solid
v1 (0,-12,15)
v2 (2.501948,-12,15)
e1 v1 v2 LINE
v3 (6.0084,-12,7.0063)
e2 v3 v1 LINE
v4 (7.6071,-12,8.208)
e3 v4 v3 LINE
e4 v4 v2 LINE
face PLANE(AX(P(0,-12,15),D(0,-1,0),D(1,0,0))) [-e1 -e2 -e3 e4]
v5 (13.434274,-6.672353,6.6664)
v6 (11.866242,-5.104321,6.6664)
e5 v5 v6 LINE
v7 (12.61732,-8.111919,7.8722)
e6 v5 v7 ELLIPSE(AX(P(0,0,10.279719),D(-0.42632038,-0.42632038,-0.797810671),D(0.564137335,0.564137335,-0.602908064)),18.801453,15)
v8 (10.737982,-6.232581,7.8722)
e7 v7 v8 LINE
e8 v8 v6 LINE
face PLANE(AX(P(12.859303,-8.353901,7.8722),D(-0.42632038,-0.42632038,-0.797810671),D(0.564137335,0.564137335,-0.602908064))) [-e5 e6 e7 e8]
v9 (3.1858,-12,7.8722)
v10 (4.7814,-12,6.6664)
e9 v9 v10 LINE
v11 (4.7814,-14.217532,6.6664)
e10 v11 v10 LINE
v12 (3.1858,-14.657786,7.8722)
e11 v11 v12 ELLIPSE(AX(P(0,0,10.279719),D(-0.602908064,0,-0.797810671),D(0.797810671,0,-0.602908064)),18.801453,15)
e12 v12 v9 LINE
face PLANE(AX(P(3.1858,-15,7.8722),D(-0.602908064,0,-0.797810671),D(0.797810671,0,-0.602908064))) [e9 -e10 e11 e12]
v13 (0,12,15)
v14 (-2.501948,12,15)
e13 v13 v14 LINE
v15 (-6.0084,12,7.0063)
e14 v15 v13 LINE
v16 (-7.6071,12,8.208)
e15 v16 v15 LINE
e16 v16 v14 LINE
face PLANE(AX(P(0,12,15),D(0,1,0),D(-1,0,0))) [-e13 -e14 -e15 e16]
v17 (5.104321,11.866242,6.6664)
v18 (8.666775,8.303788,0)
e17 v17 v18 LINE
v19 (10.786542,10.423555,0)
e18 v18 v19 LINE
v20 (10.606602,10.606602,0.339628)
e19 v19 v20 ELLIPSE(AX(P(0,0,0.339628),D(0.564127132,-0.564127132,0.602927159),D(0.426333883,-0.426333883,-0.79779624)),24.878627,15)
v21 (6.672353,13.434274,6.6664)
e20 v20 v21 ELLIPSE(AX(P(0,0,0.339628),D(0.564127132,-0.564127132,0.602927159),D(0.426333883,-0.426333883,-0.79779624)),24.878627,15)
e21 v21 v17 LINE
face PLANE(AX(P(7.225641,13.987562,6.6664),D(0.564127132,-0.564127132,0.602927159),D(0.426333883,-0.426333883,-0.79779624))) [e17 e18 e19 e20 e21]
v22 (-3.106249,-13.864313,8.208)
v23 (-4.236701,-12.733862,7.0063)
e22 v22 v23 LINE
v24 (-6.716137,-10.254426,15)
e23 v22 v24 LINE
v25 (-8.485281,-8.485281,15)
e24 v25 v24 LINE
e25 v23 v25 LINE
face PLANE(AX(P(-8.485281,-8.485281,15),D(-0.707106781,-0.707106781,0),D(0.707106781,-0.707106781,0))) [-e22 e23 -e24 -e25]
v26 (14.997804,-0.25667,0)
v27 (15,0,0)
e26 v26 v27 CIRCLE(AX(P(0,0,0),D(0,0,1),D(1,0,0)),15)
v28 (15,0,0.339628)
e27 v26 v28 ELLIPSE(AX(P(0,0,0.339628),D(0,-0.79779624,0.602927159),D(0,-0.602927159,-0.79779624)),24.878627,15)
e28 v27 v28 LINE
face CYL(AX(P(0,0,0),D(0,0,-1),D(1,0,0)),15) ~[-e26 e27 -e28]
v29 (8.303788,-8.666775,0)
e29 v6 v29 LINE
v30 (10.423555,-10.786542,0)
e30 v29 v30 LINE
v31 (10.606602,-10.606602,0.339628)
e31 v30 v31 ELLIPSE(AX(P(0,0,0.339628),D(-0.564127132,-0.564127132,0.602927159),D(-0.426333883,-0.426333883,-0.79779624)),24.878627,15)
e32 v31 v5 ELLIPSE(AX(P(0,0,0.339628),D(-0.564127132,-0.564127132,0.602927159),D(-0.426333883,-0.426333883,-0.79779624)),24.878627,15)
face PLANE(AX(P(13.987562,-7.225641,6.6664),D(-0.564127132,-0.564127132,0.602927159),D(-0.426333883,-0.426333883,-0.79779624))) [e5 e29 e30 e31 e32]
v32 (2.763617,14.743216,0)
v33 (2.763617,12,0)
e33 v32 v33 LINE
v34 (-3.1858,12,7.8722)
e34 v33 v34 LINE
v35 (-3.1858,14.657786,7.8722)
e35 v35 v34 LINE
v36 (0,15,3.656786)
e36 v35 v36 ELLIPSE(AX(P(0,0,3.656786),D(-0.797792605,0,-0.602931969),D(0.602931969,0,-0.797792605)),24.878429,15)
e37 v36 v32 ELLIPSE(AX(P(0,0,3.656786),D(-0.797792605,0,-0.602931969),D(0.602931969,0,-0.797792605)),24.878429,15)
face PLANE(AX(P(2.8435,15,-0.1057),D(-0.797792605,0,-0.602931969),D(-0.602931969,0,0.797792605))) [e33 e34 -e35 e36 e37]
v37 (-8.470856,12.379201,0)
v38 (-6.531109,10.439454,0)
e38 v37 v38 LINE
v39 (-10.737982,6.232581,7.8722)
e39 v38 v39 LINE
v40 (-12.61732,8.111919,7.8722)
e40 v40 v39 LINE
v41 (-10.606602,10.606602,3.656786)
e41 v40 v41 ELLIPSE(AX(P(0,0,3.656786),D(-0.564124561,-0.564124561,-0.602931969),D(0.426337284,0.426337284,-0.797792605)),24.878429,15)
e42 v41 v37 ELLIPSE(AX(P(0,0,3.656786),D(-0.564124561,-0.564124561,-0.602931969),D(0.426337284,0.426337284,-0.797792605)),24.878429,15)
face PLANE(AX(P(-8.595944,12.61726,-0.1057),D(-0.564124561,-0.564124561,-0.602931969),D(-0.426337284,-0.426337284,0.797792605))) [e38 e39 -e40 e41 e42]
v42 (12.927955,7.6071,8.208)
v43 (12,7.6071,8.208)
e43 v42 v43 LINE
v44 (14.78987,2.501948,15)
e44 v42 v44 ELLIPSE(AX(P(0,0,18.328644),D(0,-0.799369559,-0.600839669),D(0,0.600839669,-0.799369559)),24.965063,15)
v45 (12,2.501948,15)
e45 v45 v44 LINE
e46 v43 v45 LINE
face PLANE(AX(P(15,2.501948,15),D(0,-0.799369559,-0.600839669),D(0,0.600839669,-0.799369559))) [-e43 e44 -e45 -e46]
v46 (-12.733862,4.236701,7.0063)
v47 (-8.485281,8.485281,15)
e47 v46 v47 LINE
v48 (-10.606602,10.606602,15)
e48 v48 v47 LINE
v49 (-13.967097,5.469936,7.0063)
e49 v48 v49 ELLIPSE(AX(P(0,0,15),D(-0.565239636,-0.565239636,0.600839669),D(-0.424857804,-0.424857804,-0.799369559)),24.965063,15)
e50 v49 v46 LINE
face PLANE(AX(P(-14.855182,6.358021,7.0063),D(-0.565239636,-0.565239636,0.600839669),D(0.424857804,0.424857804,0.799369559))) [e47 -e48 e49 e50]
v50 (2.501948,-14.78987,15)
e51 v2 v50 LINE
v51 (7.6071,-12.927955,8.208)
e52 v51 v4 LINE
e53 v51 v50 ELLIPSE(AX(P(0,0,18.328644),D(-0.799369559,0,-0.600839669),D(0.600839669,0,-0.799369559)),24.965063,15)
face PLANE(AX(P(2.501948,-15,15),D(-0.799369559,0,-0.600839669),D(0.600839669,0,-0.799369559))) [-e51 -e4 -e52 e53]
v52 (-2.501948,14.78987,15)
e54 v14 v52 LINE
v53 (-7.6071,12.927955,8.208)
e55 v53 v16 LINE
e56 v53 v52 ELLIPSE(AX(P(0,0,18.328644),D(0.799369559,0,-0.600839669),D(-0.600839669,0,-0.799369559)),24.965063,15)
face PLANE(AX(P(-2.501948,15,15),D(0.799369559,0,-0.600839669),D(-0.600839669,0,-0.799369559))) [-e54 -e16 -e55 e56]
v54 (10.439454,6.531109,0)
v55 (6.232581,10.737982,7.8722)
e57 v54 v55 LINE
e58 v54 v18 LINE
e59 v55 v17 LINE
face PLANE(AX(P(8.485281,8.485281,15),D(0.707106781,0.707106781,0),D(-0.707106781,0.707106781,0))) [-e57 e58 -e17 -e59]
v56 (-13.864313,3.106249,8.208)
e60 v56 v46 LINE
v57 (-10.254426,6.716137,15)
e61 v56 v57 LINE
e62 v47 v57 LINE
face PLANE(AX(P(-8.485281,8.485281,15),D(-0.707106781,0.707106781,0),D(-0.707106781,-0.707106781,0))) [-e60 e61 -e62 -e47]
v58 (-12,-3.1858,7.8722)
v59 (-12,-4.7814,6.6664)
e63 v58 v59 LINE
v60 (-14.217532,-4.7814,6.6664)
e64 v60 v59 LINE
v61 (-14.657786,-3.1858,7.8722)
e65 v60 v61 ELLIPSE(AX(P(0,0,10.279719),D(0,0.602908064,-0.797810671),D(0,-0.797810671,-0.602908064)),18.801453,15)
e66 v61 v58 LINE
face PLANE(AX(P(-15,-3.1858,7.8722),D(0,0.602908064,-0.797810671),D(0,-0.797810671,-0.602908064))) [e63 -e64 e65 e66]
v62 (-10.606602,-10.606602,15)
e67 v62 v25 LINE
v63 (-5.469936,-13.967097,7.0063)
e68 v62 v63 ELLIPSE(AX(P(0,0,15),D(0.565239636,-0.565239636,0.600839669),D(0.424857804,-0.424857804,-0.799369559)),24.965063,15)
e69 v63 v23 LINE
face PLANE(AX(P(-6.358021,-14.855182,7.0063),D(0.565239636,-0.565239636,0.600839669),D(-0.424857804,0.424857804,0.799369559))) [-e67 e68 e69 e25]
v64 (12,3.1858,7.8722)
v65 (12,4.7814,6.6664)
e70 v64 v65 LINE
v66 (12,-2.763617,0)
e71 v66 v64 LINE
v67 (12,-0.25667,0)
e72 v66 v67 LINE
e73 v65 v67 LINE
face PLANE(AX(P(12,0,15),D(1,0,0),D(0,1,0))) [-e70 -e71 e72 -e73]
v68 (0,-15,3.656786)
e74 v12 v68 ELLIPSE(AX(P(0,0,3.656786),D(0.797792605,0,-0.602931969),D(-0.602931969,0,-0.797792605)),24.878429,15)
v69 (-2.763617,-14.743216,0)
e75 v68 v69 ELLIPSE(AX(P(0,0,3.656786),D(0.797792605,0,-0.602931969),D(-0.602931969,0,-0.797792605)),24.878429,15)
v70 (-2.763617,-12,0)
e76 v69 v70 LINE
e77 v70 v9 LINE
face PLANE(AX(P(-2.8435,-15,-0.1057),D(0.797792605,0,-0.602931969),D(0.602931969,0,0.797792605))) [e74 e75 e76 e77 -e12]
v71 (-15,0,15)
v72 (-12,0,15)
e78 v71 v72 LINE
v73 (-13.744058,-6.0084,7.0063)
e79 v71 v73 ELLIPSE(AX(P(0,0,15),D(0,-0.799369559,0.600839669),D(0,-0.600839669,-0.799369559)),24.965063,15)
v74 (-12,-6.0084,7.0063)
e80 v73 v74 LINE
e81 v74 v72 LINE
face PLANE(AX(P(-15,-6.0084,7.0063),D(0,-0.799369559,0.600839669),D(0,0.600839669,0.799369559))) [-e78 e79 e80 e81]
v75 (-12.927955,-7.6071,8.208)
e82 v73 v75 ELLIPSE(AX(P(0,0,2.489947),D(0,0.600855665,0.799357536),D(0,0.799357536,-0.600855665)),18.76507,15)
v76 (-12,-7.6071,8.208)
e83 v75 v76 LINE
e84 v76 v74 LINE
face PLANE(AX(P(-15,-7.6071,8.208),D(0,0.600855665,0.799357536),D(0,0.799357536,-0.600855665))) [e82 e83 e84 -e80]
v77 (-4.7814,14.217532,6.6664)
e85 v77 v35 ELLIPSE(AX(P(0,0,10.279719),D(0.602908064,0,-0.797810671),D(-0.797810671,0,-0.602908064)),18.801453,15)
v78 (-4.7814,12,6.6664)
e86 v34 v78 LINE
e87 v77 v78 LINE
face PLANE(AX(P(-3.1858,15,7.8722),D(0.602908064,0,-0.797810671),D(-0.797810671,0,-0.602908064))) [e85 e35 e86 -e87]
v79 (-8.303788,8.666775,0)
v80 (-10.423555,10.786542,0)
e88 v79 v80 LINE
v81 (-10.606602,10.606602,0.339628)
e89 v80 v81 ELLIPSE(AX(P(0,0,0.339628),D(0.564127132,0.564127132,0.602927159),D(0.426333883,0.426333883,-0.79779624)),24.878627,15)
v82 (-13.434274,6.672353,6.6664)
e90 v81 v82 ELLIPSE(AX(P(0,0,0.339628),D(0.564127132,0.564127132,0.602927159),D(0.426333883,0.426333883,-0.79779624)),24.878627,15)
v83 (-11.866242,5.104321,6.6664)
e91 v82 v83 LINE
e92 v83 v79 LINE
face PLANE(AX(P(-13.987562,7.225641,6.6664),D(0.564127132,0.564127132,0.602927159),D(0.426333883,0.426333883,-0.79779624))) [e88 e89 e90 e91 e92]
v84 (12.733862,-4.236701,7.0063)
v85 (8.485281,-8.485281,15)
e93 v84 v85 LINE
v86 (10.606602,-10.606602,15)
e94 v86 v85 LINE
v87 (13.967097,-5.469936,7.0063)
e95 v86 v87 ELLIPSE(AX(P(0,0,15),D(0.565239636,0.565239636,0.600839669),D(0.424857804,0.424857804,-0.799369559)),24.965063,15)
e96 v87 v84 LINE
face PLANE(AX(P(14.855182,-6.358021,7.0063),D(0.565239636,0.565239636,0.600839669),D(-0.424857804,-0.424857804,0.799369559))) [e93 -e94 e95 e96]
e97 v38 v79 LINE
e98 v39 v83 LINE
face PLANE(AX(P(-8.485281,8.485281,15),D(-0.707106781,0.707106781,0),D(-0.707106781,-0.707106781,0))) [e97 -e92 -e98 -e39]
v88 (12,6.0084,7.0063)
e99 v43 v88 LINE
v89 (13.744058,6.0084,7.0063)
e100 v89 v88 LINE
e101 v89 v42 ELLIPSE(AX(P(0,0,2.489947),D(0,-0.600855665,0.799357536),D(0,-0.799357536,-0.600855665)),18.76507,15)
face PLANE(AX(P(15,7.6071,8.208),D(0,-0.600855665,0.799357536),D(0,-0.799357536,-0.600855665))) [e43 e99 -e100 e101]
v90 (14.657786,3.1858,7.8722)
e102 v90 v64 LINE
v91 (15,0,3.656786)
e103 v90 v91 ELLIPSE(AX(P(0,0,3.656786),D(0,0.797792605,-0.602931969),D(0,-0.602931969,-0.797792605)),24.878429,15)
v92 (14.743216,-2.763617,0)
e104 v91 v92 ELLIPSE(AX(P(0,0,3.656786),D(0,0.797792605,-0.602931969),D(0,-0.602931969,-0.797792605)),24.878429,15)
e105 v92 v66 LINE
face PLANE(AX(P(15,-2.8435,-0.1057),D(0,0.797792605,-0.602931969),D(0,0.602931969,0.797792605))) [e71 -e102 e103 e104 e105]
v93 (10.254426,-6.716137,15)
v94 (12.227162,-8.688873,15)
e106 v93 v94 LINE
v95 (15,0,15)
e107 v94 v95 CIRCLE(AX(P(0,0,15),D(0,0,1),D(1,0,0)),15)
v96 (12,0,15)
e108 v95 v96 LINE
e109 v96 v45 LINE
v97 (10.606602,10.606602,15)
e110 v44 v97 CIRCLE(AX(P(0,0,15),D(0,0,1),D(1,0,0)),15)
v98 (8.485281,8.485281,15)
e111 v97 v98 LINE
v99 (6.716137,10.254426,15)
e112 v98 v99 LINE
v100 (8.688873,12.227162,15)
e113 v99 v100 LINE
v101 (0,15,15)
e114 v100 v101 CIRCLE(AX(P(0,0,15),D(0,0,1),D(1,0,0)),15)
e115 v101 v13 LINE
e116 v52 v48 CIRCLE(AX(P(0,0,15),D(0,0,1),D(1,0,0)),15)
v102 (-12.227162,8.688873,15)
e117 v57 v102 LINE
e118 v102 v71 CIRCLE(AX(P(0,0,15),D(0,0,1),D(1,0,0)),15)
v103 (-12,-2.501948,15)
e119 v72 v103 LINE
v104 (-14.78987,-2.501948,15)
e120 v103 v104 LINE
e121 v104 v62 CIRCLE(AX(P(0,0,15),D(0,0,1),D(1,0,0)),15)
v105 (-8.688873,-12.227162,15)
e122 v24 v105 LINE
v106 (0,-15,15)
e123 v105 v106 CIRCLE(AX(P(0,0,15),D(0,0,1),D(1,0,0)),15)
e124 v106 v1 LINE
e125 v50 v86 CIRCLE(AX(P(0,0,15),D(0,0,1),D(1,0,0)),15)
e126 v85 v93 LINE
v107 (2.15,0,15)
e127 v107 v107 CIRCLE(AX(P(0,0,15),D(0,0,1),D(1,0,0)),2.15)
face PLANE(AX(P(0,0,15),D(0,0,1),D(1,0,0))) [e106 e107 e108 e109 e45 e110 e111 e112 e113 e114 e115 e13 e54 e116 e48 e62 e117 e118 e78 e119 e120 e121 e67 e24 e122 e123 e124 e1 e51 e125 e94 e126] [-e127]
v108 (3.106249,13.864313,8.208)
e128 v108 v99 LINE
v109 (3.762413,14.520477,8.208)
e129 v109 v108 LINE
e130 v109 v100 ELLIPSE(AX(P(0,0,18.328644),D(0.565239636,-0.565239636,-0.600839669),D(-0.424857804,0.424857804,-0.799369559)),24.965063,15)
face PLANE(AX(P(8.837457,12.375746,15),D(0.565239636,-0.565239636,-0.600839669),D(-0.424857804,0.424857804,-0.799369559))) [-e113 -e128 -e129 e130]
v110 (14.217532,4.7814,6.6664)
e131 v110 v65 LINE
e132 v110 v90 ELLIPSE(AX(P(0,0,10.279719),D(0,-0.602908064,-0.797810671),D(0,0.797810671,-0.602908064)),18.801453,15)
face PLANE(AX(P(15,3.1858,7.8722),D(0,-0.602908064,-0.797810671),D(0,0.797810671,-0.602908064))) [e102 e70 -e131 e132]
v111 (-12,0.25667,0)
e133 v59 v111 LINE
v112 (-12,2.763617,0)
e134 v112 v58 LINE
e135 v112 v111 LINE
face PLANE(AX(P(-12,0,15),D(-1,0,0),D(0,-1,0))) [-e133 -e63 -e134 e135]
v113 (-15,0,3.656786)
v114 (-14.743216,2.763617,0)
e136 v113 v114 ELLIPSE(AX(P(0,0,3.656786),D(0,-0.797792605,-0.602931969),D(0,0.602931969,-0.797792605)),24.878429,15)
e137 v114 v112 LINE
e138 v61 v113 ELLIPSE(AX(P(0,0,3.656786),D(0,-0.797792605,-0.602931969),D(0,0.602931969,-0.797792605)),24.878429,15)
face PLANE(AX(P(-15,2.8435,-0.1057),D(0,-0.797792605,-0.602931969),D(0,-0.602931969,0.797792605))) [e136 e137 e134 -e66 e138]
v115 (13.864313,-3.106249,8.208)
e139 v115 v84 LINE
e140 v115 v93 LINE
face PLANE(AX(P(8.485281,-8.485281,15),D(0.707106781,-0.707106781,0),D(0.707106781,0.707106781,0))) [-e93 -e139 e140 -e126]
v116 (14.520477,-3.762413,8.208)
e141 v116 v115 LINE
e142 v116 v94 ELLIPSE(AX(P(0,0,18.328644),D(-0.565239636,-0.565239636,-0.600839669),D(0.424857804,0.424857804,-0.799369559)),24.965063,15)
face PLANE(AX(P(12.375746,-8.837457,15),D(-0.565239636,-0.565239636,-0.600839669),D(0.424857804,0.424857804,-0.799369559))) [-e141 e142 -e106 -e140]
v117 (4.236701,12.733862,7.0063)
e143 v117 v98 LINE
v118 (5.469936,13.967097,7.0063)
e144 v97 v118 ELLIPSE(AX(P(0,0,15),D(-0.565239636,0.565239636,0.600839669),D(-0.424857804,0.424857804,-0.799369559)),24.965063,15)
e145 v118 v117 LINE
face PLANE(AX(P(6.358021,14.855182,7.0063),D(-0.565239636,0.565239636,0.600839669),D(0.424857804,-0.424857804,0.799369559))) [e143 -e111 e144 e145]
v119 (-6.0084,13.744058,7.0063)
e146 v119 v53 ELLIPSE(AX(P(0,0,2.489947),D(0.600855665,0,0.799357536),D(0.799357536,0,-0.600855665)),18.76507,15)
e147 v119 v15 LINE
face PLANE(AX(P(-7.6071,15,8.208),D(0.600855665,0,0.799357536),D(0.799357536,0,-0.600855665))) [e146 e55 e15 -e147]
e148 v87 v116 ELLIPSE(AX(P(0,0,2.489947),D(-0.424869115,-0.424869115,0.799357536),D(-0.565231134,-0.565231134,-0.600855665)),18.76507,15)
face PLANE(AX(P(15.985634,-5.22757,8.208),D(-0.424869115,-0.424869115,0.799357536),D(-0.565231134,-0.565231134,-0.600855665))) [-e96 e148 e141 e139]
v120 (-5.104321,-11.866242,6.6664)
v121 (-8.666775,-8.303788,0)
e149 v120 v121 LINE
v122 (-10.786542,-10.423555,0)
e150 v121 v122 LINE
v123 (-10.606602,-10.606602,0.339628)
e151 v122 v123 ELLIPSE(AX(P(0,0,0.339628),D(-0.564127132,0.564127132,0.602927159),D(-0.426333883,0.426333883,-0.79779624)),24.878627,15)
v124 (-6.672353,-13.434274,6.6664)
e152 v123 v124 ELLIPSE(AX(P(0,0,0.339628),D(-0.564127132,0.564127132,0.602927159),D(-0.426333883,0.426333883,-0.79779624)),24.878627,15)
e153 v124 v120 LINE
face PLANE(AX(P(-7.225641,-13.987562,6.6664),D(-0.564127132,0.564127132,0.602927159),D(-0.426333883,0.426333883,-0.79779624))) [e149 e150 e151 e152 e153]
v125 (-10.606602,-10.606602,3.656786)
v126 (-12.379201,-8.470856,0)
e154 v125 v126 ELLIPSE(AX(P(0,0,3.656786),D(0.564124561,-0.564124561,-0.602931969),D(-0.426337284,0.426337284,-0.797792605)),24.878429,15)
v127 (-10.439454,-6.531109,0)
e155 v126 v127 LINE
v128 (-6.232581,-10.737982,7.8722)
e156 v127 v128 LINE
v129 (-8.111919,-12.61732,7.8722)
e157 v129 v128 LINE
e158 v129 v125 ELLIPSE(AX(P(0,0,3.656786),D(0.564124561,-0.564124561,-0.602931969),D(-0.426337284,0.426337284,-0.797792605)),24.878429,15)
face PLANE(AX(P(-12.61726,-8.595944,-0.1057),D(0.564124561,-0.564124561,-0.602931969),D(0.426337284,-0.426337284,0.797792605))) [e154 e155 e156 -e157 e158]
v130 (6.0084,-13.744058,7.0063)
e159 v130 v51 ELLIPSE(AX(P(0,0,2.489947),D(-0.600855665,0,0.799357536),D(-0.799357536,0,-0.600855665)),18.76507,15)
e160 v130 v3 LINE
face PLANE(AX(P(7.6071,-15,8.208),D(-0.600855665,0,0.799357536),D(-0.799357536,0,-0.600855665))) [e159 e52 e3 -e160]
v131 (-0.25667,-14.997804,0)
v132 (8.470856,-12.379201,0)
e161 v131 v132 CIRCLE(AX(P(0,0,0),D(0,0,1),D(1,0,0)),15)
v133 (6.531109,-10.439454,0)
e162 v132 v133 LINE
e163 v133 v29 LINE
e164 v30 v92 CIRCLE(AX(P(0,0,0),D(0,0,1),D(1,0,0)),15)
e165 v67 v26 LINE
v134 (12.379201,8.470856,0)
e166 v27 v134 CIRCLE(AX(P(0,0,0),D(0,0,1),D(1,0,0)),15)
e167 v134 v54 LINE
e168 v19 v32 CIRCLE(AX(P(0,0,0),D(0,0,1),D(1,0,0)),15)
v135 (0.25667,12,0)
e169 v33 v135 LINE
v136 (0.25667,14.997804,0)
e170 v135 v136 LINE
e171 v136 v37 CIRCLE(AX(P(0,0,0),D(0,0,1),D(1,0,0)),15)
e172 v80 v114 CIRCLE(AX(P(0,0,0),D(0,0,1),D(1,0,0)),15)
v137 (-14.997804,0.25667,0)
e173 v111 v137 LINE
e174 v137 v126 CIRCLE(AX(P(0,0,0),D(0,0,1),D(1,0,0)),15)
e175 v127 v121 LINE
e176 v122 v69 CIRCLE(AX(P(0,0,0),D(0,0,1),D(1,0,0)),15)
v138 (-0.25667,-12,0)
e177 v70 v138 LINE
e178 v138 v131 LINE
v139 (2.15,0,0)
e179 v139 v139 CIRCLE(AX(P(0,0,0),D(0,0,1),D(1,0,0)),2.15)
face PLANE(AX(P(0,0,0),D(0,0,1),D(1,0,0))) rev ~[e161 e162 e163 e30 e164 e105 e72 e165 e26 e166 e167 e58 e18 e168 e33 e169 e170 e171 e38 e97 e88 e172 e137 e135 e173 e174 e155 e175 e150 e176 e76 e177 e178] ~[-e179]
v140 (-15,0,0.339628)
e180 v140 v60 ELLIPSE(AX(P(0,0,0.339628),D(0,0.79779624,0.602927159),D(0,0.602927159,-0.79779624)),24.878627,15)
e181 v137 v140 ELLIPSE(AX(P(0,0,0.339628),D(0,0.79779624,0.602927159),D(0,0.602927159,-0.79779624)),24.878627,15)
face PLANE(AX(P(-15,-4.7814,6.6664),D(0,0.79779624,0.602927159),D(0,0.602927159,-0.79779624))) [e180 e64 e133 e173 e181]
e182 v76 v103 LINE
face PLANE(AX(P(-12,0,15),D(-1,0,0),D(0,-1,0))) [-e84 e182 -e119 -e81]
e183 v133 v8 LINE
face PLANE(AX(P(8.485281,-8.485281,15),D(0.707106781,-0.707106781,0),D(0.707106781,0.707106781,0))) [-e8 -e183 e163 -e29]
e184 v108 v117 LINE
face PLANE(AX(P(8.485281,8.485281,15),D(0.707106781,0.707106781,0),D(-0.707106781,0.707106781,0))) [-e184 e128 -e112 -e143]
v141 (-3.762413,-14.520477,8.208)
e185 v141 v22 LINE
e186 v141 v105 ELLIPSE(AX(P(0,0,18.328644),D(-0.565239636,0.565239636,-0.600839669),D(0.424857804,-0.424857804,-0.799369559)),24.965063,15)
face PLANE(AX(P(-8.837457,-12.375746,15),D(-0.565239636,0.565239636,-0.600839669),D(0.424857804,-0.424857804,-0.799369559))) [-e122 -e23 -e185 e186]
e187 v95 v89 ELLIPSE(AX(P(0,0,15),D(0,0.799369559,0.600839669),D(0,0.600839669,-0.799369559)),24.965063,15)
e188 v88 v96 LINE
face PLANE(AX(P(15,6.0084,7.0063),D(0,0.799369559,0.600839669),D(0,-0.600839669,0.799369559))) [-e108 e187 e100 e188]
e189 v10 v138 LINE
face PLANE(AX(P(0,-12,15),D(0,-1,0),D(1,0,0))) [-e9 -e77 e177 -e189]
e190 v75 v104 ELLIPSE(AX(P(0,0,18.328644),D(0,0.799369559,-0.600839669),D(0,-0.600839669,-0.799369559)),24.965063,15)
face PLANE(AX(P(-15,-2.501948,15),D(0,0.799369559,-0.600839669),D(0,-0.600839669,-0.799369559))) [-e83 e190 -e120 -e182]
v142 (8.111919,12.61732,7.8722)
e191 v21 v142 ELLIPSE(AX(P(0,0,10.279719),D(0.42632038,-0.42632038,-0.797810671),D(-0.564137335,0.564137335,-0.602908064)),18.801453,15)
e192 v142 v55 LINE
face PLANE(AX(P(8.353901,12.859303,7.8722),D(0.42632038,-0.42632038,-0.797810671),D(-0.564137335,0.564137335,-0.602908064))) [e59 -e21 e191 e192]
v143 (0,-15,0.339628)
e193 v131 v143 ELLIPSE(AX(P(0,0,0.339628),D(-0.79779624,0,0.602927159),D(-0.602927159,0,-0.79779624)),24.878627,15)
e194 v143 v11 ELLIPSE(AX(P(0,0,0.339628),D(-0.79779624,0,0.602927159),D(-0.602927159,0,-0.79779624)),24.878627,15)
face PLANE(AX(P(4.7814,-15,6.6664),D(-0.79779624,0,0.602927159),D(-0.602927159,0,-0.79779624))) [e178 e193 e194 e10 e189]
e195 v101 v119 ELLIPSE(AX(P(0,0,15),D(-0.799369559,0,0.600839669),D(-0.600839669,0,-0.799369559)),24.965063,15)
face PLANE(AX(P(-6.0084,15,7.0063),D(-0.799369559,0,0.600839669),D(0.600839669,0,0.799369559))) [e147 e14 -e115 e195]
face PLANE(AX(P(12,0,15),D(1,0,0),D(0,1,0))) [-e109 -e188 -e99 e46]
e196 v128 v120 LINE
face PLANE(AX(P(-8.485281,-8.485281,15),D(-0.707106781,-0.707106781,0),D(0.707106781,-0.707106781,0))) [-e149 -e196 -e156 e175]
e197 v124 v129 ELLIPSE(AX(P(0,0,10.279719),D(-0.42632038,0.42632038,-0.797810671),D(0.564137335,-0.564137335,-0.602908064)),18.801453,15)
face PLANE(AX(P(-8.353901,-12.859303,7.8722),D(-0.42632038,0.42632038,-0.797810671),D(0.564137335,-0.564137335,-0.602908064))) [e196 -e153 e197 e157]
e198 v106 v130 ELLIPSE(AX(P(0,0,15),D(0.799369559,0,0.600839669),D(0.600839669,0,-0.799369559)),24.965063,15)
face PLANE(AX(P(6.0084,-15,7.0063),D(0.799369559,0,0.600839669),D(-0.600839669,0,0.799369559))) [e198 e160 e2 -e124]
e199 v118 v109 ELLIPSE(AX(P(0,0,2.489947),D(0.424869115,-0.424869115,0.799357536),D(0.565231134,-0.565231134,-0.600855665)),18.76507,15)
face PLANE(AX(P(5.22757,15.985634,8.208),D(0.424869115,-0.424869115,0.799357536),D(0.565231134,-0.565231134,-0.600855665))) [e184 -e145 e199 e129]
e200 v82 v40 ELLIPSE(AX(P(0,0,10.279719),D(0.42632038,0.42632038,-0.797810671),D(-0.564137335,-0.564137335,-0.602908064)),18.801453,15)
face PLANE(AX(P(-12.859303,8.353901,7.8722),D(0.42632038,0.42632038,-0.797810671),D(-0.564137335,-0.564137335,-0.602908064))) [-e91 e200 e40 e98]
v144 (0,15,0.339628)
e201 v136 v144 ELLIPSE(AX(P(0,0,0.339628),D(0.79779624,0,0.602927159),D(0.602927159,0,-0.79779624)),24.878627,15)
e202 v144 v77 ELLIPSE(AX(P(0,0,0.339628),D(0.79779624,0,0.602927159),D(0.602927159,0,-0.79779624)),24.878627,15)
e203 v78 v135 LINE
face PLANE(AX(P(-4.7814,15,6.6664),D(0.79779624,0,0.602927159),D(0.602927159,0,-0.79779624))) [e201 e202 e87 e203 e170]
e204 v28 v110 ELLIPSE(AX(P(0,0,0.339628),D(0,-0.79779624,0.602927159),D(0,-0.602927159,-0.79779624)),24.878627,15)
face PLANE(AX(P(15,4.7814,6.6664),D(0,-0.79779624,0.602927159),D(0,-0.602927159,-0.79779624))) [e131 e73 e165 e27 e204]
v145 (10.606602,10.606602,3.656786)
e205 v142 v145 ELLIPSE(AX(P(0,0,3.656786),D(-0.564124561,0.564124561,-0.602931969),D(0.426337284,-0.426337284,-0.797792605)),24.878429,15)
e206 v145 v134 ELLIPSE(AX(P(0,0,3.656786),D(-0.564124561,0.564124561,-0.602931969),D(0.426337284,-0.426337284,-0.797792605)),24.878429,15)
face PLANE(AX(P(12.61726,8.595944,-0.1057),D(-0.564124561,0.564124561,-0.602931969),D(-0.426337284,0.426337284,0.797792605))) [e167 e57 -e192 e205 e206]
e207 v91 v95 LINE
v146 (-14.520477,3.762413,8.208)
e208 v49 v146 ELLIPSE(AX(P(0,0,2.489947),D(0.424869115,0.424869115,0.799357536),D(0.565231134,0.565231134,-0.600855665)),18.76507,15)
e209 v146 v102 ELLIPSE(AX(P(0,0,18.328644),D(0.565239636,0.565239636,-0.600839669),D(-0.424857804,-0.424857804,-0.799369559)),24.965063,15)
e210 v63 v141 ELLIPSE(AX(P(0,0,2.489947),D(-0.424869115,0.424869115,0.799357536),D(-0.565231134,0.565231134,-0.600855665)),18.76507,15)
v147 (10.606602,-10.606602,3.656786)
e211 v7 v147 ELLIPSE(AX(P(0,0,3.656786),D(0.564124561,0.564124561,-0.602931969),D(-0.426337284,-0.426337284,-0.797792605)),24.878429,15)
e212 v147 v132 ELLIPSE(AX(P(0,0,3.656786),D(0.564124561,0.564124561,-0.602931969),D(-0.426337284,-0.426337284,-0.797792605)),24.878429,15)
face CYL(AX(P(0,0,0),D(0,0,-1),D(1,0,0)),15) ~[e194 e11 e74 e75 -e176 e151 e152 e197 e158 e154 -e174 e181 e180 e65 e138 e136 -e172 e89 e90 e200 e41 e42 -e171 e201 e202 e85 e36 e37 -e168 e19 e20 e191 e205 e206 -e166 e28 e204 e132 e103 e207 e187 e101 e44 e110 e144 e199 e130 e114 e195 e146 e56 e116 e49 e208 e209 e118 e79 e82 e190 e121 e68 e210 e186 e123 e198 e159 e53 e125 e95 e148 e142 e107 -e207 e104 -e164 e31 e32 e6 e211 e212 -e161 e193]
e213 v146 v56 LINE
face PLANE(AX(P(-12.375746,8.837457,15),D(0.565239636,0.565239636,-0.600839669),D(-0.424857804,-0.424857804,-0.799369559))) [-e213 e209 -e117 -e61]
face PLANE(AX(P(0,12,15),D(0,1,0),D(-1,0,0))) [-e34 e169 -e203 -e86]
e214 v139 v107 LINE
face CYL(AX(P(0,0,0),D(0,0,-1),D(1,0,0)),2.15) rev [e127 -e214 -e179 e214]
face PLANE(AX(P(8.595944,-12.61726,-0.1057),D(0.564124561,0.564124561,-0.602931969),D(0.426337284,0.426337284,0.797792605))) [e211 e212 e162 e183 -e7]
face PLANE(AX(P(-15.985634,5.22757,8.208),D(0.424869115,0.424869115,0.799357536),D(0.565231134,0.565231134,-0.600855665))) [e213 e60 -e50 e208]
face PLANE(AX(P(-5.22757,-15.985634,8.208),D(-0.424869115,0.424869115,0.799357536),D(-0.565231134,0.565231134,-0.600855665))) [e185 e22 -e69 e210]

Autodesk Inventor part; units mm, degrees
ref_plane "YZ Plane" through (0, 0, 0) normal (1, 0, 0) x (0, 1, 0)
ref_plane "XZ Plane" through (0, 0, 0) normal (0, 1, 0) x (-1, 0, 0)
sketch "Sketch1" plane through (0, 0, 0) normal (0, 0, 1) x (1, 0, 0)
  circle A0 centre (0, 0) radius 2.15
  circle A1 centre (0, 0) radius 15
  dimension "d0" = 4.3
  dimension "d1" = 30
extrude "Extrusion1" add sketch "Sketch1" along normal blind 15
sketch "Sketch3" plane through (0, 0, 15) normal (0, 0, 1) x (1, 0, 0)
  point P0 (0, 0)
  point P1 (0, 15)
ref_plane "Work Plane1" through (0, 15, 15) normal (0, 1, 0) x (-1, 0, 0)
sketch "Sketch4" plane through (0, 15, 15) normal (0, 1, 0) x (-1, 0, 0)
  line L0 (15, 0) -> (-15, 0) projected
  line L1 (0, 0) -> (1.5987, 1.2017)
  line L2 (1.5987, 1.2017) -> (7.6071, -6.792)
  line L3 (7.6071, -6.792) -> (6.0084, -7.9937)
  line L4 (6.0084, -7.9937) -> (0, 0)
  line L5 (3.1858, -7.1278) -> (4.7814, -8.3336)
  line L6 (4.7814, -8.3336) -> (-1.2479, -16.3116)
  line L7 (-1.2479, -16.3116) -> (-2.8435, -15.1057)
  line L8 (-2.8435, -15.1057) -> (3.1858, -7.1278)
  point P0 (0, -15)
  dimension "d8" = 2
  dimension "d9" = 10
  dimension "d10" = 2
  dimension "d11" = 10
extrude "Extrusion3" cut sketch "Sketch4" against normal blind 3
pattern_circular "Circular Pattern1" count 8 over 360 about axis through (0, 0, 0) along (0, 0, 1) of "Extrusion3"
properties part number "Wheel"
